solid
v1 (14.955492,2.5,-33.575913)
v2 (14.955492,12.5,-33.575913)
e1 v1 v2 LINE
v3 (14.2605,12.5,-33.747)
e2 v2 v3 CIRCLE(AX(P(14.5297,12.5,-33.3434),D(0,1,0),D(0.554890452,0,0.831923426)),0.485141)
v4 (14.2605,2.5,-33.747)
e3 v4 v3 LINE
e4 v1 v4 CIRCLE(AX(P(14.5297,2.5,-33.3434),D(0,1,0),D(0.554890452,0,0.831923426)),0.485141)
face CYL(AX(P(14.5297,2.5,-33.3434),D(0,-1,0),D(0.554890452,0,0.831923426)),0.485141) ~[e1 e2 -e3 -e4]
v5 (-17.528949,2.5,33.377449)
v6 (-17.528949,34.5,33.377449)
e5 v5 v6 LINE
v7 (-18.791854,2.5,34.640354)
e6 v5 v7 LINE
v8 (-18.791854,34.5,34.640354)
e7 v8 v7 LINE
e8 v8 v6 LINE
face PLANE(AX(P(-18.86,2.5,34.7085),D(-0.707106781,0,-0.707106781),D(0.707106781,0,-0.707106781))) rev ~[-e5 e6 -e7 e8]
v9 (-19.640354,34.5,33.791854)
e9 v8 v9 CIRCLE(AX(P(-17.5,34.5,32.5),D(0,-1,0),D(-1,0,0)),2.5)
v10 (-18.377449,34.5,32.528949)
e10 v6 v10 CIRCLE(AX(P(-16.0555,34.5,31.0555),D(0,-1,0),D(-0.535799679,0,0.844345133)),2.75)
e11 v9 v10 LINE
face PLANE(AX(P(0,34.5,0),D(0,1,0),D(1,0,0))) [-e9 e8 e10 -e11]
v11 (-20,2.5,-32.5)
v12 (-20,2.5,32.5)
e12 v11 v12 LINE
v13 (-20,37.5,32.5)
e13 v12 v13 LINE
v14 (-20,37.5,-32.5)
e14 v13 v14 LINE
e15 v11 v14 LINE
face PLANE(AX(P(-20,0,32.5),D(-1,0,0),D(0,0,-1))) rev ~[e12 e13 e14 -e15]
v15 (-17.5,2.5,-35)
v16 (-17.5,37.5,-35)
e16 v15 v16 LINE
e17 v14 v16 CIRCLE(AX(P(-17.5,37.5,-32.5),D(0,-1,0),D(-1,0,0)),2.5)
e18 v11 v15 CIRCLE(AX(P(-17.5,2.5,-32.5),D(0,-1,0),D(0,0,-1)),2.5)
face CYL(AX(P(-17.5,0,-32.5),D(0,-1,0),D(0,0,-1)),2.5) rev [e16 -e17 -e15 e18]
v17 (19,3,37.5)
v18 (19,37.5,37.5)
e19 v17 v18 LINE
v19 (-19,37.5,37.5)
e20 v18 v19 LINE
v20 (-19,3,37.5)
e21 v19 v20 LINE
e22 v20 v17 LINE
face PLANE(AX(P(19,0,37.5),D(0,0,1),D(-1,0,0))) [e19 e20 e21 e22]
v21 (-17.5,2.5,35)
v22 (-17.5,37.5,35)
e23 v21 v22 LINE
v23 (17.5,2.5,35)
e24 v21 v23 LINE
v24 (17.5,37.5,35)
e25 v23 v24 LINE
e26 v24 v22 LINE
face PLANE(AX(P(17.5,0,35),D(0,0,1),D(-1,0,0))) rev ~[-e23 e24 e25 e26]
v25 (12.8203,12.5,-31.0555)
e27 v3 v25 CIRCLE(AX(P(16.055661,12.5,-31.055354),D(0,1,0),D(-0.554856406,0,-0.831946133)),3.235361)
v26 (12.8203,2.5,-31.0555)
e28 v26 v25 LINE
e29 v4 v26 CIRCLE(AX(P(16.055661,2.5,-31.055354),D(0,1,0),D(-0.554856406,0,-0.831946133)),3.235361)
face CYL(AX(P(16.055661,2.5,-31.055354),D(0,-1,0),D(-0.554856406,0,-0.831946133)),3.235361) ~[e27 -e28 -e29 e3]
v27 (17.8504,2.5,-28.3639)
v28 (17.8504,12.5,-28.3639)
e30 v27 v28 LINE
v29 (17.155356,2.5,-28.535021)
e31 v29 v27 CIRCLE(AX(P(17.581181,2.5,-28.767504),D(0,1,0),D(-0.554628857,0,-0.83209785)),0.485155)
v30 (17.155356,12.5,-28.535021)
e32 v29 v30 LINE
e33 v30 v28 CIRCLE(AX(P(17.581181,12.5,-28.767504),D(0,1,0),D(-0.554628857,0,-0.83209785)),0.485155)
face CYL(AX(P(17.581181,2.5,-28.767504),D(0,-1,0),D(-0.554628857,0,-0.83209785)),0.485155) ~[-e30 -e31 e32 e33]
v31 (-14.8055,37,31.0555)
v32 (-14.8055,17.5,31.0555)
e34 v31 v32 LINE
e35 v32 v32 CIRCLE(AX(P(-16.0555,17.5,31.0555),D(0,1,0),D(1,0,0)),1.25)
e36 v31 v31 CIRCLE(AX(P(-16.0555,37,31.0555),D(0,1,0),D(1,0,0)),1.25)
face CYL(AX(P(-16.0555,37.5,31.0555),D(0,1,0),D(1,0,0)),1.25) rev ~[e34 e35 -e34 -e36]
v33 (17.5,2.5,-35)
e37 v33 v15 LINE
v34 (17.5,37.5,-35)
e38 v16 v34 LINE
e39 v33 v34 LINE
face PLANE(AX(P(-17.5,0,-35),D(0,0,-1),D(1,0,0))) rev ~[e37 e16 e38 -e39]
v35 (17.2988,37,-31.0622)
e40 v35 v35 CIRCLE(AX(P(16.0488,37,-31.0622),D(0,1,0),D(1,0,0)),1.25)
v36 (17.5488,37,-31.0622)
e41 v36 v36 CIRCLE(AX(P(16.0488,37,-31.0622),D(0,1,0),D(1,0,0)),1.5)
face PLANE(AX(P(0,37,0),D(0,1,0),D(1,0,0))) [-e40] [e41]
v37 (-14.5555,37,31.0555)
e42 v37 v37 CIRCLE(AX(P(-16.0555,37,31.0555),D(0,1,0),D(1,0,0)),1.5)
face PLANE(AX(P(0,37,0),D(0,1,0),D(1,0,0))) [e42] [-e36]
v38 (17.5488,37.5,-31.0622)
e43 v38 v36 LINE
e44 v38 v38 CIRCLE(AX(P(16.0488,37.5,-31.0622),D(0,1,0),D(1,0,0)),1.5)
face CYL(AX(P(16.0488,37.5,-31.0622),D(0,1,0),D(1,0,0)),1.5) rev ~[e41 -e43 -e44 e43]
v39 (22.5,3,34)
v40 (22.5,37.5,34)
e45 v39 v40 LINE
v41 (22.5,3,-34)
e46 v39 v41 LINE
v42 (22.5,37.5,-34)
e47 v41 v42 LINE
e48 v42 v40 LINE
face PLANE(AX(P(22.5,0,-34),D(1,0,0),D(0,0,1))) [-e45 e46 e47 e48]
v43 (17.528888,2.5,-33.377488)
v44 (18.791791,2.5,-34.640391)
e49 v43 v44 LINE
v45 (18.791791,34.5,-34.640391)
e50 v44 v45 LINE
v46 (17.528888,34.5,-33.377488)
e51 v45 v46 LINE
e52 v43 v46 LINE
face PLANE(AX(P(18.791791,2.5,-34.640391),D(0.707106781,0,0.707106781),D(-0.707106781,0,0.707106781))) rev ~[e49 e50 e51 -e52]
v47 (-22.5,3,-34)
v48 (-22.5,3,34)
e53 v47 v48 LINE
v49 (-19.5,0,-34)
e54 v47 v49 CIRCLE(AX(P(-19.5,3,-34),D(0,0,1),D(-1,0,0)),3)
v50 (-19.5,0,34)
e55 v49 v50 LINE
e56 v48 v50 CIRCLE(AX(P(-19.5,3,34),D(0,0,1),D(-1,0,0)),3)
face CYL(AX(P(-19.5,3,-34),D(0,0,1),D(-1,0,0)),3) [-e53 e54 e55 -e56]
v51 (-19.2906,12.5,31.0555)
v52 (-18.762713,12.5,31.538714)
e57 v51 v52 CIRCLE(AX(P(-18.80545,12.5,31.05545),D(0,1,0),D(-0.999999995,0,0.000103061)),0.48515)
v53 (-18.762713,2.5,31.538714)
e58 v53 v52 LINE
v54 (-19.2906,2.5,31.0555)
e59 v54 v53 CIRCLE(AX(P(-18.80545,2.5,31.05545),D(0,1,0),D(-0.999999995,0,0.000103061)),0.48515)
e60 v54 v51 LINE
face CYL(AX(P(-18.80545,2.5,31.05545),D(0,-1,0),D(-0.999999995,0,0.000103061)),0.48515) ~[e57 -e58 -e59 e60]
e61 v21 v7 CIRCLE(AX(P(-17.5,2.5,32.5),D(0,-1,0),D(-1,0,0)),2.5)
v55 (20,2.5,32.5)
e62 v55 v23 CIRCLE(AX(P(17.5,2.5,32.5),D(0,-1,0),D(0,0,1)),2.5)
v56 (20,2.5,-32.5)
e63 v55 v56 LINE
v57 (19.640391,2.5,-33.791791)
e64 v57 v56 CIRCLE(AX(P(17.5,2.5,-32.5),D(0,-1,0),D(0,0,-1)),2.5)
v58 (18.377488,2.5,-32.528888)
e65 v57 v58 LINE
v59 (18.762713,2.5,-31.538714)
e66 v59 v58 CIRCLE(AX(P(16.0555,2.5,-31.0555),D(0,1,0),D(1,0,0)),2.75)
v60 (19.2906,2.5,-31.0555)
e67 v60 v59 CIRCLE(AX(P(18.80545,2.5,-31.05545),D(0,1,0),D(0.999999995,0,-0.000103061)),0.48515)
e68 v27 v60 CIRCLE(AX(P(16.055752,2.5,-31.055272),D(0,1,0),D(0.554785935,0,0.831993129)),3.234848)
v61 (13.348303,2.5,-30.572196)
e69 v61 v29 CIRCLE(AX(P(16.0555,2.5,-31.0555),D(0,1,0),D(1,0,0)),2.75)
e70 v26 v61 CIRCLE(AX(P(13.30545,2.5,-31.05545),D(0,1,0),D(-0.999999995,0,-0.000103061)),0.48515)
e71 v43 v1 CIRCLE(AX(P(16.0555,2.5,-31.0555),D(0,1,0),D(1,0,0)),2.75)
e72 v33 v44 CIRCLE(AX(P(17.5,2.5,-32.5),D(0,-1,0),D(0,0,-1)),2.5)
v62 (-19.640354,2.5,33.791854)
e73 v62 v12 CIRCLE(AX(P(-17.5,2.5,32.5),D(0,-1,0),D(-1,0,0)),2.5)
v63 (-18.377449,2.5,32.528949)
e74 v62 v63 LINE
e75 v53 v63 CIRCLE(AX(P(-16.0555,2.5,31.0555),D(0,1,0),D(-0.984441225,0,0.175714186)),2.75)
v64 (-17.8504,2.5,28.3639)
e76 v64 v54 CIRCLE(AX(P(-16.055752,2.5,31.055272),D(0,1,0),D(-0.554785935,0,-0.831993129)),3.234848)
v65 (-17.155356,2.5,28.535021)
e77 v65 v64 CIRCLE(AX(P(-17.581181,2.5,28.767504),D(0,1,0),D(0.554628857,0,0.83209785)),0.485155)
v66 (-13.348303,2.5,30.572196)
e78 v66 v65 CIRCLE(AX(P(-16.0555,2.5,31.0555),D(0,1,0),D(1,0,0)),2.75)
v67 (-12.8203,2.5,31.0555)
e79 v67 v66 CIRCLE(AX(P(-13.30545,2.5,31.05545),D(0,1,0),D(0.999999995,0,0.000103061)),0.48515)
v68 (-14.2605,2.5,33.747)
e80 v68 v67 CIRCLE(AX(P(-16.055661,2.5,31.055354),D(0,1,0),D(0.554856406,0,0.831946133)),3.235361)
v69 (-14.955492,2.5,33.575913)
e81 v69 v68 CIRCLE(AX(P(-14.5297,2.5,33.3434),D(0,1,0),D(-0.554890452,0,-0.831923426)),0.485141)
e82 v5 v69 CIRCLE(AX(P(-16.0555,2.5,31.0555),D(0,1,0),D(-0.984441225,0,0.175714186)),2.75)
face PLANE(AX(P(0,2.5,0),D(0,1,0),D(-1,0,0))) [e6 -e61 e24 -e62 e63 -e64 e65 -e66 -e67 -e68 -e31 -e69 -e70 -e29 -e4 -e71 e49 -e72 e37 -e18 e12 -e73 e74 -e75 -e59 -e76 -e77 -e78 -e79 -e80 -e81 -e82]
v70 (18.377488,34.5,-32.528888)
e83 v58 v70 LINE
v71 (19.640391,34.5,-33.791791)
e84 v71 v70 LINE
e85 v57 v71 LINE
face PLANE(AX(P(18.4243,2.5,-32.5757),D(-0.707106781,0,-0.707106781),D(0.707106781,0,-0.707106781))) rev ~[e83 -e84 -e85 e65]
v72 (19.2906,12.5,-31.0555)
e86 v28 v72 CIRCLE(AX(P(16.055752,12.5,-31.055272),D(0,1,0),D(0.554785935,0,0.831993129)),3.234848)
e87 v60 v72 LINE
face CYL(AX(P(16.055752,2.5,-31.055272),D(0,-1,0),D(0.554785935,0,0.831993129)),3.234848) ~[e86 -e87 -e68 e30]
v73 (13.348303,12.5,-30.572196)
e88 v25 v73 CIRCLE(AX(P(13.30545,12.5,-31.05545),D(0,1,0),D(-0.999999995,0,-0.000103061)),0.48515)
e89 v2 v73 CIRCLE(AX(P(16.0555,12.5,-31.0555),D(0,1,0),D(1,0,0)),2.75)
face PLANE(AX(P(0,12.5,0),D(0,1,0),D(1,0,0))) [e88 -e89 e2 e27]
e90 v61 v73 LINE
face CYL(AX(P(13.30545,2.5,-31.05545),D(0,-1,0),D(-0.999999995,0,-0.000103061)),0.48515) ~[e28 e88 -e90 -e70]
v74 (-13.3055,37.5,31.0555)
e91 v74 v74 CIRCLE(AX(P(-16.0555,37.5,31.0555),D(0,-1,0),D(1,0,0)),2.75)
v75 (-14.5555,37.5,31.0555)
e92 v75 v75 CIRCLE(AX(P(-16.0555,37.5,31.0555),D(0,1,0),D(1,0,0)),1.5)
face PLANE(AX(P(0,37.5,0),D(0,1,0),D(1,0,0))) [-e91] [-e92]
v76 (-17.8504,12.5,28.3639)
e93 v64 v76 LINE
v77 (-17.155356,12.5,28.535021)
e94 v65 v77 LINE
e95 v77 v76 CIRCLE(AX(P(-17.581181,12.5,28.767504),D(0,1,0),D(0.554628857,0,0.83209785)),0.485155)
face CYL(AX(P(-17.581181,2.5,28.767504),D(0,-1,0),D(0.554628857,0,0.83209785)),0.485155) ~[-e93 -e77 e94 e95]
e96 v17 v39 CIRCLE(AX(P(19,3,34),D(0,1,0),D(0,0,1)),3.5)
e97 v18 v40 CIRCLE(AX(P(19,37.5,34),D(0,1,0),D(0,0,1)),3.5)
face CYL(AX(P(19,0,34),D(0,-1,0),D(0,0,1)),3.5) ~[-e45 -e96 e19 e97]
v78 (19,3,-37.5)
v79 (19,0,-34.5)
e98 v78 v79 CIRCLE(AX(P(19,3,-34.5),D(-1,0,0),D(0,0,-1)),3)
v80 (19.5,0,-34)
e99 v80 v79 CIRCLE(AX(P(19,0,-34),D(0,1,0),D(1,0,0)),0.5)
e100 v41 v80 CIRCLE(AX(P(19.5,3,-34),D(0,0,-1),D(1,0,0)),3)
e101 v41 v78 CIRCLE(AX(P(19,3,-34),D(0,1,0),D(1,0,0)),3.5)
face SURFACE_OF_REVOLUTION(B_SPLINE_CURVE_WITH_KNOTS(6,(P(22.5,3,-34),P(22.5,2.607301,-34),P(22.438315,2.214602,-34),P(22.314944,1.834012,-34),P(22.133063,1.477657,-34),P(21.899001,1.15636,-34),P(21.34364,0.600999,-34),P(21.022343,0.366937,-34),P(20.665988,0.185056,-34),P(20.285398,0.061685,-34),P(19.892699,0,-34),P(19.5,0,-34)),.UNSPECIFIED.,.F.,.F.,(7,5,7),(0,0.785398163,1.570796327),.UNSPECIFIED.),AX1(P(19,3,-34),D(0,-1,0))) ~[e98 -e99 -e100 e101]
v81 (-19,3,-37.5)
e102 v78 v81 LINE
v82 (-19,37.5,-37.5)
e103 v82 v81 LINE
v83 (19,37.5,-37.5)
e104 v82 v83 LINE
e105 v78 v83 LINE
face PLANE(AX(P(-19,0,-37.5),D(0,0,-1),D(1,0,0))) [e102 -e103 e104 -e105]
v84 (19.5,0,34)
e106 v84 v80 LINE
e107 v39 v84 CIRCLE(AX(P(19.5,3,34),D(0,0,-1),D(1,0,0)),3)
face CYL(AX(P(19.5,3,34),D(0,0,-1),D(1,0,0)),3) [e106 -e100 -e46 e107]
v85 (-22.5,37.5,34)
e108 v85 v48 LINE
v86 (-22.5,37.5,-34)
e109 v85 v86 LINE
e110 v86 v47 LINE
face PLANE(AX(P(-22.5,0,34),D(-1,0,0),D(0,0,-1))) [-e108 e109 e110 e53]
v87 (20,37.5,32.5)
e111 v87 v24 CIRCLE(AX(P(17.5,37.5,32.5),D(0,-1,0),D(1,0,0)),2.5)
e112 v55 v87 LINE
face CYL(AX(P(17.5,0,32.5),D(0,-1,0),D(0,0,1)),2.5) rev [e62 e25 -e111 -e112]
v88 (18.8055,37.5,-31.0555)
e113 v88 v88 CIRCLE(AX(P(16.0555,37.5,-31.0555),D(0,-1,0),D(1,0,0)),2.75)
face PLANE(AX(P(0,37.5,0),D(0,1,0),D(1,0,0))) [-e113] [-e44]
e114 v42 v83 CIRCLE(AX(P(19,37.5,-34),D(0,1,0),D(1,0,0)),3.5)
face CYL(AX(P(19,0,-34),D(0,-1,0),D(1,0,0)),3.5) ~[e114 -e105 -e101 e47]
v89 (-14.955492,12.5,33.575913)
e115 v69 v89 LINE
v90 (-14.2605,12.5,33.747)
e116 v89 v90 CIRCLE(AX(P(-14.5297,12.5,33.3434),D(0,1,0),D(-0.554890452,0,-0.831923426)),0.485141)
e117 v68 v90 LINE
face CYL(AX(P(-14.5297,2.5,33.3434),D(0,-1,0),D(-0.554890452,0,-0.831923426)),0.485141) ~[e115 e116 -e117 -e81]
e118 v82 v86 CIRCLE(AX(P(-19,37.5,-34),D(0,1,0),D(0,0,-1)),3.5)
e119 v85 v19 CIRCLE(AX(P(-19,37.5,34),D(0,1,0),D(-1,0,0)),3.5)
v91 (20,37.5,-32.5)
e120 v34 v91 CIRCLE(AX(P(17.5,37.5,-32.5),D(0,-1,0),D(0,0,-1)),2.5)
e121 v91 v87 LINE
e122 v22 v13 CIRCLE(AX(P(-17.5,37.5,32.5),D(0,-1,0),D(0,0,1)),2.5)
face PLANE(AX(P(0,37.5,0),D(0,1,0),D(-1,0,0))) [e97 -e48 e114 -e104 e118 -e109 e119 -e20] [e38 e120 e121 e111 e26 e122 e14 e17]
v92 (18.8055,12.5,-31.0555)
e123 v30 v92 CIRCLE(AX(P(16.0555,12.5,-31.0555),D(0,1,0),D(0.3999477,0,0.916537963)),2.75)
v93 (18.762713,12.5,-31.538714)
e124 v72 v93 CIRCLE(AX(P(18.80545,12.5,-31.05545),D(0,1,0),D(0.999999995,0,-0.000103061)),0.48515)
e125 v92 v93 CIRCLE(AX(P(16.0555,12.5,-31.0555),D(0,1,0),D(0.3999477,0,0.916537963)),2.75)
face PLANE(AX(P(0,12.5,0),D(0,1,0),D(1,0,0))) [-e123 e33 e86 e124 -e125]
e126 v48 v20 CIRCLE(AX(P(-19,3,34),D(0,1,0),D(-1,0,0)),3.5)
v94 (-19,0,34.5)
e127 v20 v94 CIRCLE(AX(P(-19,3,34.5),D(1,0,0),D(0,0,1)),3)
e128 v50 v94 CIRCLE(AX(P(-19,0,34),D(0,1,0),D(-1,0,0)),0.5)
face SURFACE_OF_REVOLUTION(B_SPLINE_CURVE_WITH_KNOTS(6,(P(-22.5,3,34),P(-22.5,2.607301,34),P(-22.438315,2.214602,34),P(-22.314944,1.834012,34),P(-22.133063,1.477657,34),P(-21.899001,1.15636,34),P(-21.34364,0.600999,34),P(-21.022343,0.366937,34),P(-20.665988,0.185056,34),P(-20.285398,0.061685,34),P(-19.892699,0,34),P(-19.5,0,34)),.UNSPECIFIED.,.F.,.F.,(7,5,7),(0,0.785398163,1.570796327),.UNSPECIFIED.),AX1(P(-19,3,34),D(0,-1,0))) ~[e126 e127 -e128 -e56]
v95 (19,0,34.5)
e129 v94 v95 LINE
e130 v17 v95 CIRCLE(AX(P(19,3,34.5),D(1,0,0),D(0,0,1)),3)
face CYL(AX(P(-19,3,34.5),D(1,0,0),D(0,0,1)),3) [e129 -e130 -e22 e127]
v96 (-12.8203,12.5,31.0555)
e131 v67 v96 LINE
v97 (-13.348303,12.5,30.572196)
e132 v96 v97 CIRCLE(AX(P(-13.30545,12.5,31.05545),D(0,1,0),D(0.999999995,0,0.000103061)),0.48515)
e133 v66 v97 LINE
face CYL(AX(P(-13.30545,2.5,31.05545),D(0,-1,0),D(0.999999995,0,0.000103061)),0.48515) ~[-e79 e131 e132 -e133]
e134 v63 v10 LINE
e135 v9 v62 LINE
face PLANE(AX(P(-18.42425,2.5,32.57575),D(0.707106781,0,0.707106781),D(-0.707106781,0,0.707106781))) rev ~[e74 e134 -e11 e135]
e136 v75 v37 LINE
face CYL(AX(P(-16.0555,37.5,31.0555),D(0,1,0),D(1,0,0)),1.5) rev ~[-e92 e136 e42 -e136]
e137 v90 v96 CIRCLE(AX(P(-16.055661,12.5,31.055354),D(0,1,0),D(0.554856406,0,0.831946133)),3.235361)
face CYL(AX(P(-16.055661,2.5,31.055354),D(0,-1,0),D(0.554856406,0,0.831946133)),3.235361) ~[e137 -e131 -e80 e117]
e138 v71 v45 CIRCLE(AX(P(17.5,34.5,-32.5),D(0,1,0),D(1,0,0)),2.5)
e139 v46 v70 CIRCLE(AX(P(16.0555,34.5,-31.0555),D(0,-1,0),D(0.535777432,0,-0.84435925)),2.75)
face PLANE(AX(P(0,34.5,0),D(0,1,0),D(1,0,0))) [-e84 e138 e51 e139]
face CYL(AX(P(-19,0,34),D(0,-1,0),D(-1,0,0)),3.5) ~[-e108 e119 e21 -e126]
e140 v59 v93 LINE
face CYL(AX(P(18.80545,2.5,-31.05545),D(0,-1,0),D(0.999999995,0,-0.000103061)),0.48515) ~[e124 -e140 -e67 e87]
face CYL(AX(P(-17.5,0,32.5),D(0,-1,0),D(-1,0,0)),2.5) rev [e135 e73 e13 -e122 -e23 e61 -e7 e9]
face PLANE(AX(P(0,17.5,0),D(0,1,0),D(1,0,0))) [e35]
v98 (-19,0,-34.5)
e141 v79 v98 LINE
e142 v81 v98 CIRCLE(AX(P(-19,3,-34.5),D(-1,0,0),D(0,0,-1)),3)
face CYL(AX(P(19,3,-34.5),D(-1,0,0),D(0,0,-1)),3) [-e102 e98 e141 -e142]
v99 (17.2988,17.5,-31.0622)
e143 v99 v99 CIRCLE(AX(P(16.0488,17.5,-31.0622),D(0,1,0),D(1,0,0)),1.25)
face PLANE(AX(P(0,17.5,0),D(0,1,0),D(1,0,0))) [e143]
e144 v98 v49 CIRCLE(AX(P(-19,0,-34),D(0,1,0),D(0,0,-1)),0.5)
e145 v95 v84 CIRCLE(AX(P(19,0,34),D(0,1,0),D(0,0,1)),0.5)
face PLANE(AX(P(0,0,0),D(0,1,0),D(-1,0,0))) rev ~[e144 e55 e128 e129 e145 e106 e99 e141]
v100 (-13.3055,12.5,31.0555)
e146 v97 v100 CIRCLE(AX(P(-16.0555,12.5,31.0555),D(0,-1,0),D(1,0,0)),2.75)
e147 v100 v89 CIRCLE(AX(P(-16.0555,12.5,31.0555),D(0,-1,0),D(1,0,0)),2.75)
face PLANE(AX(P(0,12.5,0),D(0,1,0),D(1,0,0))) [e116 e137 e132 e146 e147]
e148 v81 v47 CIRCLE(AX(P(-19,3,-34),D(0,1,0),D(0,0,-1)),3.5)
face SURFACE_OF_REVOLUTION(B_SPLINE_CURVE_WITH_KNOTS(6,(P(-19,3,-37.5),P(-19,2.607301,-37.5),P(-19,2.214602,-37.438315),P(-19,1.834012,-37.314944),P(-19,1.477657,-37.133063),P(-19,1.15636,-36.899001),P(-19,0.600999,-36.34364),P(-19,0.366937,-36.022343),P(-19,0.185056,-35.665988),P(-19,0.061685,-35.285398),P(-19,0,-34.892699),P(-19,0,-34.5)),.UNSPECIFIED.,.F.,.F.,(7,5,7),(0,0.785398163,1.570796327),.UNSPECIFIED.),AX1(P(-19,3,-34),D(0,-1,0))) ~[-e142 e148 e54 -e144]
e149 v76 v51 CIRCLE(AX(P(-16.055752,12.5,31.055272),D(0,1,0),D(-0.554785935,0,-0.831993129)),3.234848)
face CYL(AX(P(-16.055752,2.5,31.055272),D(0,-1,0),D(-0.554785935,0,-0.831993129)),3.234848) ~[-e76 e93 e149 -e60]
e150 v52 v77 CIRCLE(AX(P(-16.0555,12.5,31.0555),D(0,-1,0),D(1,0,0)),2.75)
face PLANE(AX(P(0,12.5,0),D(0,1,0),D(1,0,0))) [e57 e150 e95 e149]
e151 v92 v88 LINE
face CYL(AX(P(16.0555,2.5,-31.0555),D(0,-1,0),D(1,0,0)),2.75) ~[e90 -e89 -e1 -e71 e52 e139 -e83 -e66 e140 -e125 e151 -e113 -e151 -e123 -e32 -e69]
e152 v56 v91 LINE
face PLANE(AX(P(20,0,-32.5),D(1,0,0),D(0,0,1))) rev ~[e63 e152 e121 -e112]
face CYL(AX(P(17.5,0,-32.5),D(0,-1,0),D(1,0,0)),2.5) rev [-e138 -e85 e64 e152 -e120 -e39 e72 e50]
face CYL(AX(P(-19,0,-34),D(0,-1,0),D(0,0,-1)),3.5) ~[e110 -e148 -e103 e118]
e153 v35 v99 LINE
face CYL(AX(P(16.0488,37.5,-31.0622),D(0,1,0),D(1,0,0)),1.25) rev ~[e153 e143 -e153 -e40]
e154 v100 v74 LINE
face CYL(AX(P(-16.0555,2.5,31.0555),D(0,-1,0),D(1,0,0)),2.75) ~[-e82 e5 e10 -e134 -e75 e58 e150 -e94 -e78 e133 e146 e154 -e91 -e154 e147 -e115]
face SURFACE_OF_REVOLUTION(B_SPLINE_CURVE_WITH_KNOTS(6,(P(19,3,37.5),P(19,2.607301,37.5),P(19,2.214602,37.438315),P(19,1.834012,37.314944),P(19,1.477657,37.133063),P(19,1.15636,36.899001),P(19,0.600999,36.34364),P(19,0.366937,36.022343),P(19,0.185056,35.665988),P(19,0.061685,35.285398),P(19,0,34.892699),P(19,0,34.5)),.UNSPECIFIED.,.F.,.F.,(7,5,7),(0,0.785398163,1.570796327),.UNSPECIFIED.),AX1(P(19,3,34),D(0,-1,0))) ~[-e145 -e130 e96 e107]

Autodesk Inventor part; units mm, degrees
ref_plane "YZ Plane" through (0, 0, 0) normal (1, 0, 0) x (0, 1, 0)
ref_plane "XZ Plane" through (0, 0, 0) normal (0, 1, 0) x (-1, 0, 0)
ref_plane "XY Plane" through (0, 0, 0) normal (0, 0, 1) x (1, 0, 0)
sketch "Sketch1" plane through (0, 0, 0) normal (0, 1, 0) x (-1, 0, 0)
  line L0 (-22.5, 37.5) -> (22.5, 37.5)
  line L1 (22.5, 37.5) -> (22.5, -37.5)
  line L2 (22.5, -37.5) -> (-22.5, -37.5)
  line L3 (-22.5, -37.5) -> (-22.5, 37.5)
  line L4 (22.5, 37.5) -> (-22.5, -37.5) construction
  line L5 (-20, 35) -> (20, 35)
  line L6 (20, 35) -> (20, -35)
  line L7 (20, -35) -> (-20, -35)
  line L8 (-20, -35) -> (-20, 35)
  line L9 (20, 35) -> (-20, -35) construction
  line L10 (20, 35) -> (17.5, 35)
  line L11 (17.5, 35) -> (17.5, 32.5)
  line L12 (17.5, 32.5) -> (20, 32.5)
  line L13 (20, 32.5) -> (20, 35)
  arc A0 (20, 32.5) -> (17.5, 35) centre (17.5, 32.5) ccw
  line L14 (22.5, 37.5) -> (19, 37.5)
  line L15 (19, 37.5) -> (19, 34)
  line L16 (19, 34) -> (22.5, 34)
  line L17 (22.5, 34) -> (22.5, 37.5)
  line L18 (20, -35) -> (17.5, -35)
  line L19 (17.5, -35) -> (17.5, -32.5)
  line L20 (17.5, -32.5) -> (20, -32.5)
  line L21 (20, -32.5) -> (20, -35)
  line L22 (-20, -35) -> (-17.5, -35)
  line L23 (-17.5, -35) -> (-17.5, -32.5)
  line L24 (-17.5, -32.5) -> (-20, -32.5)
  line L25 (-20, -32.5) -> (-20, -35)
  line L26 (-20, 35) -> (-17.5, 35)
  line L27 (-17.5, 35) -> (-17.5, 32.5)
  line L28 (-17.5, 32.5) -> (-20, 32.5)
  line L29 (-20, 32.5) -> (-20, 35)
  arc A1 (-17.5, 35) -> (-20, 32.5) centre (-17.5, 32.5) ccw
  arc A2 (-20, -32.5) -> (-17.5, -35) centre (-17.5, -32.5) ccw
  arc A3 (17.5, -35) -> (20, -32.5) centre (17.5, -32.5) ccw
  arc A4 (22.5, 34) -> (19, 37.5) centre (19, 34) ccw
  line L30 (22.5, -37.5) -> (19, -37.5)
  line L31 (19, -37.5) -> (19, -34)
  line L32 (19, -34) -> (22.5, -34)
  line L33 (22.5, -34) -> (22.5, -37.5)
  line L34 (-22.5, -37.5) -> (-19, -37.5)
  line L35 (-19, -37.5) -> (-19, -34)
  line L36 (-19, -34) -> (-22.5, -34)
  line L37 (-22.5, -34) -> (-22.5, -37.5)
  line L38 (-22.5, 37.5) -> (-19, 37.5)
  line L39 (-19, 37.5) -> (-19, 34)
  line L40 (-19, 34) -> (-22.5, 34)
  line L41 (-22.5, 34) -> (-22.5, 37.5)
  arc A5 (-19, 37.5) -> (-22.5, 34) centre (-19, 34) ccw
  arc A6 (-22.5, -34) -> (-19, -37.5) centre (-19, -34) ccw
  arc A7 (19, -37.5) -> (22.5, -34) centre (19, -34) ccw
  point P0 (0, 0)
  point P1 (-19.5, -34)
  point P2 (-20, -34)
  dimension "d0" = 45
  dimension "d1" = 75
  dimension "d2" = 40
  dimension "d3" = 70
  dimension "d8" = 2.5
  dimension "d9" = 2.5
extrude "Extrusion3" add sketch "Sketch1" along normal blind 2.5 contours L0 L15 L5 L39 | L39 L5 L8 L40 A5 | L40 L8 L36 L3 | A4 L16 L6 L5 L15 | L39 A1 L40 L8 L5 | L5 A1 L39 | L36 L8 L7 L35 A6 | L40 A1 L8 | L15 A0 L5 | L5 L6 L16 A0 L15 | L1 L32 L6 L16 | L5 L11 L12 L6 L20 L19 L7 L23 L24 L8 L28 L27 | L27 L28 A1 L40 L39 | L39 L40 A1 | L36 A2 L35 L7 L8 | L35 L7 L31 L2 | A0 L15 L16 L12 L11 | A0 L16 L15 | A7 L31 L7 L6 L32 | L6 A0 L16 | L24 L23 A2 L35 L36 | L36 L35 A2 | L35 A2 L7 | L32 A3 L6 | L6 L7 L31 A3 L32 | L7 A3 L31 | A3 L32 L31 L19 L20 | A3 L31 L32
extrude "Extrusion4" add sketch "Sketch1" along normal blind 37.5 contours L0 L15 L5 L39 | L39 L5 L8 L40 A5 | L40 L8 L36 L3 | A4 L16 L6 L5 L15 | L39 A1 L40 L8 L5 | L5 A1 L39 | L36 L8 L7 L35 A6 | L40 A1 L8 | L15 A0 L5 | L5 L6 L16 A0 L15 | L1 L32 L6 L16 | L36 A2 L35 L7 L8 | L8 A2 L36 | L35 L7 L31 L2 | A7 L31 L7 L6 L32 | L6 A0 L16 | L35 A2 L7 | L32 A3 L6 | L6 L7 L31 A3 L32 | L7 A3 L31
fillet "Fillet1" radius 3 8 edges at (-21.4749, 0, 36.4749) (0, 0, 37.5) (21.4749, 0, 36.4749) (22.5, 0, 0) (21.4749, 0, -36.4749) (0, 0, -37.5) (-21.4749, 0, -36.4749) (-22.5, 0, 0)
sketch "Sketch2" plane through (0, 2.5, 0) normal (0, 1, 0) x (1, 0, 0)
  arc A0 (20, 32.5) -> (17.5, 35) centre (17.5, 32.5) ccw projected
  line L0 (17.5, 35) -> (17.5, 33.5)
  line L1 (20, -32.5) -> (20, 32.5) projected
  line L2 (20, 32.5) -> (18.5, 32.5)
  line L3 (18.5, 32.5) -> (17.5, 33.5)
  line L4 (18, 33) -> (16.0555, 31.0555)
  circle A1 centre (16.0555, 31.0555) radius 2.75
  line L5 (-20, 32.5) -> (-20, -32.5) projected
  line L6 (-20, -32.5) -> (-18.5, -32.5)
  line L7 (-17.5, -35) -> (17.5, -35) projected
  line L8 (-17.5, -35) -> (-17.5, -33.5)
  line L9 (-17.5, -33.5) -> (-18.5, -32.5)
  line L10 (-18, -33) -> (-16.0555, -31.0555)
  line L11 (-18, -33) -> (-15.25, -33) construction
  circle A2 centre (-16.0555, -31.0555) radius 2.75
  arc A3 (17.5812, 28.7675) -> (18.8055, 31.0555) centre (16.0555, 31.0555) ccw construction
  arc A4 (17.8504, 28.3639) -> (19.2906, 31.0555) centre (16.0555, 31.0555) ccw
  arc A5 (17.3121, 29.1712) -> (18.3203, 31.0555) centre (16.0555, 31.0555) ccw
  arc A6 (17.3121, 29.1712) -> (17.8504, 28.3639) centre (17.5812, 28.7675) ccw
  arc A7 (19.2906, 31.0555) -> (18.3203, 31.0555) centre (18.8055, 31.0555) ccw
  arc A8 (14.2605, 33.747) -> (12.8203, 31.0555) centre (16.0555, 31.0555) ccw
  arc A9 (12.8203, 31.0555) -> (13.7906, 31.0555) centre (13.3055, 31.0555) ccw
  arc A10 (14.7989, 32.9398) -> (14.2605, 33.747) centre (14.5297, 33.3434) ccw
  arc A11 (14.7989, 32.9398) -> (13.7906, 31.0555) centre (16.0555, 31.0555) ccw
  arc A12 (-14.2605, -33.747) -> (-12.8203, -31.0555) centre (-16.0555, -31.0555) ccw
  arc A13 (-14.7989, -32.9398) -> (-13.7906, -31.0555) centre (-16.0555, -31.0555) ccw
  arc A14 (-14.7989, -32.9398) -> (-14.2605, -33.747) centre (-14.5297, -33.3434) ccw
  arc A15 (-12.8203, -31.0555) -> (-13.7906, -31.0555) centre (-13.3055, -31.0555) ccw
  arc A16 (-17.8504, -28.3639) -> (-19.2906, -31.0555) centre (-16.0555, -31.0555) ccw
  arc A17 (-19.2906, -31.0555) -> (-18.3203, -31.0555) centre (-18.8055, -31.0555) ccw
  arc A18 (-17.3121, -29.1712) -> (-17.8504, -28.3639) centre (-17.5812, -28.7675) ccw
  arc A19 (-17.3121, -29.1712) -> (-18.3203, -31.0555) centre (-16.0555, -31.0555) ccw
  line L12 (-19.2843, -34.2843) -> (-16.7157, -31.7157) construction
  line L13 (-18.86, -34.7085) -> (-16.2915, -32.14)
  line L14 (-17.14, -31.2915) -> (-19.7085, -33.86)
  arc A20 (-19.7085, -33.86) -> (-18.86, -34.7085) centre (-19.2843, -34.2843) ccw
  arc A21 (-16.2915, -32.14) -> (-17.14, -31.2915) centre (-16.7157, -31.7157) ccw
  line L15 (16.5205, 31.5205) -> (19.4795, 34.4795) construction
  line L16 (16.9448, 31.0962) -> (19.9038, 34.0552)
  line L17 (19.0552, 34.9038) -> (16.0962, 31.9448)
  arc A22 (16.0962, 31.9448) -> (16.9448, 31.0962) centre (16.5205, 31.5205) ccw
  arc A23 (19.9038, 34.0552) -> (19.0552, 34.9038) centre (19.4795, 34.4795) ccw
  point P0 (0, 0)
  point P1 (18.3774, 32.5289)
  point P2 (17.5289, 33.3774)
  point P3 (14.9555, 33.5759)
  point P4 (13.3482, 30.5722)
  point P5 (17.1554, 28.535)
  point P6 (18.7627, 31.5387)
  point P7 (-18.3774, -32.5289)
  point P8 (-17.5289, -33.3774)
  point P9 (-14.9555, -33.5759)
  point P10 (-13.3482, -30.5722)
  point P11 (-17.1554, -28.535)
  point P12 (-18.7627, -31.5387)
  point P13 (18.7918, 34.6404)
  point P14 (19.6404, 33.7918)
  dimension "d32" = 5.5
  dimension "d29" = 1.5
  dimension "d30" = 1.5
  dimension "d31" = 2.75
  dimension "d33" = 1.5
  dimension "d34" = 1.5
  dimension "d35" = 2.75
  dimension "d36" = 45
  dimension "d37" = 5.5
  dimension "d40" = 360
  dimension "d44" = 1.2
  dimension "d45" = 1.2
extrude "Extrusion5" add sketch "Sketch2" along normal blind 35 contours A0 L17 A23 L16 | A1 L16 A22 L4 | L4 A22 L17 A1 | A1 A7 A5 A6 A9 A11 A10 L17 A22 L16 | A1 A6 A5 A7 | A10 A11 A9 A1 | A2 L14 A21 L10 | L10 A21 L13 A2 | L13 A21 L14 A2 A17 A19 A18 A15 A13 A14 | A14 A13 A15 A2 | A2 A18 A19 A17
extrude "Extrusion6" add sketch "Sketch2" along normal blind 10 contours A7 A4 A6 A1 | A1 A9 A8 A10 | A2 L14 A21 L10 | L10 A21 L13 A2 | L13 A21 L14 A2 A17 A19 A18 A15 A13 A14 | A14 A13 A15 A2 | A2 A15 A12 A14 | A17 A16 A18 A2 | A2 A18 A19 A17
sketch "Sketch3" plane through (0, 37.5, 0) normal (0, 1, 0) x (1, 0, 0)
  arc A0 (-13.3055, -31.0555) -> (-13.3055, -31.0555) centre (-16.0555, -31.0555) ccw projected
  circle A1 centre (-16.0555, -31.0555) radius 1.5
  circle A2 centre (-16.0555, -31.0555) radius 1.25
  circle A3 centre (16.0488, 31.0622) radius 1.5
  circle A4 centre (16.0488, 31.0622) radius 1.25
  point P0 (0, 0)
  dimension "d50" = 3
  dimension "d51" = 2.5
  dimension "d52" = 3
  dimension "d53" = 2.5
extrude "Extrusion7" cut sketch "Sketch3" against normal blind 0.5 contours A1 | A3
extrude "Extrusion8" cut sketch "Sketch3" against normal blind 20 contours A2 | A4
extrude "Extrusion9" add sketch "Sketch2" along normal blind 32 contours L16 L3 L17 A0 | L16 A1 L3 | L3 A1 L17 | L13 A20 L14 L9 | L9 A2 L13 | L9 L14 A2
properties part number "proper shit spodnji"
